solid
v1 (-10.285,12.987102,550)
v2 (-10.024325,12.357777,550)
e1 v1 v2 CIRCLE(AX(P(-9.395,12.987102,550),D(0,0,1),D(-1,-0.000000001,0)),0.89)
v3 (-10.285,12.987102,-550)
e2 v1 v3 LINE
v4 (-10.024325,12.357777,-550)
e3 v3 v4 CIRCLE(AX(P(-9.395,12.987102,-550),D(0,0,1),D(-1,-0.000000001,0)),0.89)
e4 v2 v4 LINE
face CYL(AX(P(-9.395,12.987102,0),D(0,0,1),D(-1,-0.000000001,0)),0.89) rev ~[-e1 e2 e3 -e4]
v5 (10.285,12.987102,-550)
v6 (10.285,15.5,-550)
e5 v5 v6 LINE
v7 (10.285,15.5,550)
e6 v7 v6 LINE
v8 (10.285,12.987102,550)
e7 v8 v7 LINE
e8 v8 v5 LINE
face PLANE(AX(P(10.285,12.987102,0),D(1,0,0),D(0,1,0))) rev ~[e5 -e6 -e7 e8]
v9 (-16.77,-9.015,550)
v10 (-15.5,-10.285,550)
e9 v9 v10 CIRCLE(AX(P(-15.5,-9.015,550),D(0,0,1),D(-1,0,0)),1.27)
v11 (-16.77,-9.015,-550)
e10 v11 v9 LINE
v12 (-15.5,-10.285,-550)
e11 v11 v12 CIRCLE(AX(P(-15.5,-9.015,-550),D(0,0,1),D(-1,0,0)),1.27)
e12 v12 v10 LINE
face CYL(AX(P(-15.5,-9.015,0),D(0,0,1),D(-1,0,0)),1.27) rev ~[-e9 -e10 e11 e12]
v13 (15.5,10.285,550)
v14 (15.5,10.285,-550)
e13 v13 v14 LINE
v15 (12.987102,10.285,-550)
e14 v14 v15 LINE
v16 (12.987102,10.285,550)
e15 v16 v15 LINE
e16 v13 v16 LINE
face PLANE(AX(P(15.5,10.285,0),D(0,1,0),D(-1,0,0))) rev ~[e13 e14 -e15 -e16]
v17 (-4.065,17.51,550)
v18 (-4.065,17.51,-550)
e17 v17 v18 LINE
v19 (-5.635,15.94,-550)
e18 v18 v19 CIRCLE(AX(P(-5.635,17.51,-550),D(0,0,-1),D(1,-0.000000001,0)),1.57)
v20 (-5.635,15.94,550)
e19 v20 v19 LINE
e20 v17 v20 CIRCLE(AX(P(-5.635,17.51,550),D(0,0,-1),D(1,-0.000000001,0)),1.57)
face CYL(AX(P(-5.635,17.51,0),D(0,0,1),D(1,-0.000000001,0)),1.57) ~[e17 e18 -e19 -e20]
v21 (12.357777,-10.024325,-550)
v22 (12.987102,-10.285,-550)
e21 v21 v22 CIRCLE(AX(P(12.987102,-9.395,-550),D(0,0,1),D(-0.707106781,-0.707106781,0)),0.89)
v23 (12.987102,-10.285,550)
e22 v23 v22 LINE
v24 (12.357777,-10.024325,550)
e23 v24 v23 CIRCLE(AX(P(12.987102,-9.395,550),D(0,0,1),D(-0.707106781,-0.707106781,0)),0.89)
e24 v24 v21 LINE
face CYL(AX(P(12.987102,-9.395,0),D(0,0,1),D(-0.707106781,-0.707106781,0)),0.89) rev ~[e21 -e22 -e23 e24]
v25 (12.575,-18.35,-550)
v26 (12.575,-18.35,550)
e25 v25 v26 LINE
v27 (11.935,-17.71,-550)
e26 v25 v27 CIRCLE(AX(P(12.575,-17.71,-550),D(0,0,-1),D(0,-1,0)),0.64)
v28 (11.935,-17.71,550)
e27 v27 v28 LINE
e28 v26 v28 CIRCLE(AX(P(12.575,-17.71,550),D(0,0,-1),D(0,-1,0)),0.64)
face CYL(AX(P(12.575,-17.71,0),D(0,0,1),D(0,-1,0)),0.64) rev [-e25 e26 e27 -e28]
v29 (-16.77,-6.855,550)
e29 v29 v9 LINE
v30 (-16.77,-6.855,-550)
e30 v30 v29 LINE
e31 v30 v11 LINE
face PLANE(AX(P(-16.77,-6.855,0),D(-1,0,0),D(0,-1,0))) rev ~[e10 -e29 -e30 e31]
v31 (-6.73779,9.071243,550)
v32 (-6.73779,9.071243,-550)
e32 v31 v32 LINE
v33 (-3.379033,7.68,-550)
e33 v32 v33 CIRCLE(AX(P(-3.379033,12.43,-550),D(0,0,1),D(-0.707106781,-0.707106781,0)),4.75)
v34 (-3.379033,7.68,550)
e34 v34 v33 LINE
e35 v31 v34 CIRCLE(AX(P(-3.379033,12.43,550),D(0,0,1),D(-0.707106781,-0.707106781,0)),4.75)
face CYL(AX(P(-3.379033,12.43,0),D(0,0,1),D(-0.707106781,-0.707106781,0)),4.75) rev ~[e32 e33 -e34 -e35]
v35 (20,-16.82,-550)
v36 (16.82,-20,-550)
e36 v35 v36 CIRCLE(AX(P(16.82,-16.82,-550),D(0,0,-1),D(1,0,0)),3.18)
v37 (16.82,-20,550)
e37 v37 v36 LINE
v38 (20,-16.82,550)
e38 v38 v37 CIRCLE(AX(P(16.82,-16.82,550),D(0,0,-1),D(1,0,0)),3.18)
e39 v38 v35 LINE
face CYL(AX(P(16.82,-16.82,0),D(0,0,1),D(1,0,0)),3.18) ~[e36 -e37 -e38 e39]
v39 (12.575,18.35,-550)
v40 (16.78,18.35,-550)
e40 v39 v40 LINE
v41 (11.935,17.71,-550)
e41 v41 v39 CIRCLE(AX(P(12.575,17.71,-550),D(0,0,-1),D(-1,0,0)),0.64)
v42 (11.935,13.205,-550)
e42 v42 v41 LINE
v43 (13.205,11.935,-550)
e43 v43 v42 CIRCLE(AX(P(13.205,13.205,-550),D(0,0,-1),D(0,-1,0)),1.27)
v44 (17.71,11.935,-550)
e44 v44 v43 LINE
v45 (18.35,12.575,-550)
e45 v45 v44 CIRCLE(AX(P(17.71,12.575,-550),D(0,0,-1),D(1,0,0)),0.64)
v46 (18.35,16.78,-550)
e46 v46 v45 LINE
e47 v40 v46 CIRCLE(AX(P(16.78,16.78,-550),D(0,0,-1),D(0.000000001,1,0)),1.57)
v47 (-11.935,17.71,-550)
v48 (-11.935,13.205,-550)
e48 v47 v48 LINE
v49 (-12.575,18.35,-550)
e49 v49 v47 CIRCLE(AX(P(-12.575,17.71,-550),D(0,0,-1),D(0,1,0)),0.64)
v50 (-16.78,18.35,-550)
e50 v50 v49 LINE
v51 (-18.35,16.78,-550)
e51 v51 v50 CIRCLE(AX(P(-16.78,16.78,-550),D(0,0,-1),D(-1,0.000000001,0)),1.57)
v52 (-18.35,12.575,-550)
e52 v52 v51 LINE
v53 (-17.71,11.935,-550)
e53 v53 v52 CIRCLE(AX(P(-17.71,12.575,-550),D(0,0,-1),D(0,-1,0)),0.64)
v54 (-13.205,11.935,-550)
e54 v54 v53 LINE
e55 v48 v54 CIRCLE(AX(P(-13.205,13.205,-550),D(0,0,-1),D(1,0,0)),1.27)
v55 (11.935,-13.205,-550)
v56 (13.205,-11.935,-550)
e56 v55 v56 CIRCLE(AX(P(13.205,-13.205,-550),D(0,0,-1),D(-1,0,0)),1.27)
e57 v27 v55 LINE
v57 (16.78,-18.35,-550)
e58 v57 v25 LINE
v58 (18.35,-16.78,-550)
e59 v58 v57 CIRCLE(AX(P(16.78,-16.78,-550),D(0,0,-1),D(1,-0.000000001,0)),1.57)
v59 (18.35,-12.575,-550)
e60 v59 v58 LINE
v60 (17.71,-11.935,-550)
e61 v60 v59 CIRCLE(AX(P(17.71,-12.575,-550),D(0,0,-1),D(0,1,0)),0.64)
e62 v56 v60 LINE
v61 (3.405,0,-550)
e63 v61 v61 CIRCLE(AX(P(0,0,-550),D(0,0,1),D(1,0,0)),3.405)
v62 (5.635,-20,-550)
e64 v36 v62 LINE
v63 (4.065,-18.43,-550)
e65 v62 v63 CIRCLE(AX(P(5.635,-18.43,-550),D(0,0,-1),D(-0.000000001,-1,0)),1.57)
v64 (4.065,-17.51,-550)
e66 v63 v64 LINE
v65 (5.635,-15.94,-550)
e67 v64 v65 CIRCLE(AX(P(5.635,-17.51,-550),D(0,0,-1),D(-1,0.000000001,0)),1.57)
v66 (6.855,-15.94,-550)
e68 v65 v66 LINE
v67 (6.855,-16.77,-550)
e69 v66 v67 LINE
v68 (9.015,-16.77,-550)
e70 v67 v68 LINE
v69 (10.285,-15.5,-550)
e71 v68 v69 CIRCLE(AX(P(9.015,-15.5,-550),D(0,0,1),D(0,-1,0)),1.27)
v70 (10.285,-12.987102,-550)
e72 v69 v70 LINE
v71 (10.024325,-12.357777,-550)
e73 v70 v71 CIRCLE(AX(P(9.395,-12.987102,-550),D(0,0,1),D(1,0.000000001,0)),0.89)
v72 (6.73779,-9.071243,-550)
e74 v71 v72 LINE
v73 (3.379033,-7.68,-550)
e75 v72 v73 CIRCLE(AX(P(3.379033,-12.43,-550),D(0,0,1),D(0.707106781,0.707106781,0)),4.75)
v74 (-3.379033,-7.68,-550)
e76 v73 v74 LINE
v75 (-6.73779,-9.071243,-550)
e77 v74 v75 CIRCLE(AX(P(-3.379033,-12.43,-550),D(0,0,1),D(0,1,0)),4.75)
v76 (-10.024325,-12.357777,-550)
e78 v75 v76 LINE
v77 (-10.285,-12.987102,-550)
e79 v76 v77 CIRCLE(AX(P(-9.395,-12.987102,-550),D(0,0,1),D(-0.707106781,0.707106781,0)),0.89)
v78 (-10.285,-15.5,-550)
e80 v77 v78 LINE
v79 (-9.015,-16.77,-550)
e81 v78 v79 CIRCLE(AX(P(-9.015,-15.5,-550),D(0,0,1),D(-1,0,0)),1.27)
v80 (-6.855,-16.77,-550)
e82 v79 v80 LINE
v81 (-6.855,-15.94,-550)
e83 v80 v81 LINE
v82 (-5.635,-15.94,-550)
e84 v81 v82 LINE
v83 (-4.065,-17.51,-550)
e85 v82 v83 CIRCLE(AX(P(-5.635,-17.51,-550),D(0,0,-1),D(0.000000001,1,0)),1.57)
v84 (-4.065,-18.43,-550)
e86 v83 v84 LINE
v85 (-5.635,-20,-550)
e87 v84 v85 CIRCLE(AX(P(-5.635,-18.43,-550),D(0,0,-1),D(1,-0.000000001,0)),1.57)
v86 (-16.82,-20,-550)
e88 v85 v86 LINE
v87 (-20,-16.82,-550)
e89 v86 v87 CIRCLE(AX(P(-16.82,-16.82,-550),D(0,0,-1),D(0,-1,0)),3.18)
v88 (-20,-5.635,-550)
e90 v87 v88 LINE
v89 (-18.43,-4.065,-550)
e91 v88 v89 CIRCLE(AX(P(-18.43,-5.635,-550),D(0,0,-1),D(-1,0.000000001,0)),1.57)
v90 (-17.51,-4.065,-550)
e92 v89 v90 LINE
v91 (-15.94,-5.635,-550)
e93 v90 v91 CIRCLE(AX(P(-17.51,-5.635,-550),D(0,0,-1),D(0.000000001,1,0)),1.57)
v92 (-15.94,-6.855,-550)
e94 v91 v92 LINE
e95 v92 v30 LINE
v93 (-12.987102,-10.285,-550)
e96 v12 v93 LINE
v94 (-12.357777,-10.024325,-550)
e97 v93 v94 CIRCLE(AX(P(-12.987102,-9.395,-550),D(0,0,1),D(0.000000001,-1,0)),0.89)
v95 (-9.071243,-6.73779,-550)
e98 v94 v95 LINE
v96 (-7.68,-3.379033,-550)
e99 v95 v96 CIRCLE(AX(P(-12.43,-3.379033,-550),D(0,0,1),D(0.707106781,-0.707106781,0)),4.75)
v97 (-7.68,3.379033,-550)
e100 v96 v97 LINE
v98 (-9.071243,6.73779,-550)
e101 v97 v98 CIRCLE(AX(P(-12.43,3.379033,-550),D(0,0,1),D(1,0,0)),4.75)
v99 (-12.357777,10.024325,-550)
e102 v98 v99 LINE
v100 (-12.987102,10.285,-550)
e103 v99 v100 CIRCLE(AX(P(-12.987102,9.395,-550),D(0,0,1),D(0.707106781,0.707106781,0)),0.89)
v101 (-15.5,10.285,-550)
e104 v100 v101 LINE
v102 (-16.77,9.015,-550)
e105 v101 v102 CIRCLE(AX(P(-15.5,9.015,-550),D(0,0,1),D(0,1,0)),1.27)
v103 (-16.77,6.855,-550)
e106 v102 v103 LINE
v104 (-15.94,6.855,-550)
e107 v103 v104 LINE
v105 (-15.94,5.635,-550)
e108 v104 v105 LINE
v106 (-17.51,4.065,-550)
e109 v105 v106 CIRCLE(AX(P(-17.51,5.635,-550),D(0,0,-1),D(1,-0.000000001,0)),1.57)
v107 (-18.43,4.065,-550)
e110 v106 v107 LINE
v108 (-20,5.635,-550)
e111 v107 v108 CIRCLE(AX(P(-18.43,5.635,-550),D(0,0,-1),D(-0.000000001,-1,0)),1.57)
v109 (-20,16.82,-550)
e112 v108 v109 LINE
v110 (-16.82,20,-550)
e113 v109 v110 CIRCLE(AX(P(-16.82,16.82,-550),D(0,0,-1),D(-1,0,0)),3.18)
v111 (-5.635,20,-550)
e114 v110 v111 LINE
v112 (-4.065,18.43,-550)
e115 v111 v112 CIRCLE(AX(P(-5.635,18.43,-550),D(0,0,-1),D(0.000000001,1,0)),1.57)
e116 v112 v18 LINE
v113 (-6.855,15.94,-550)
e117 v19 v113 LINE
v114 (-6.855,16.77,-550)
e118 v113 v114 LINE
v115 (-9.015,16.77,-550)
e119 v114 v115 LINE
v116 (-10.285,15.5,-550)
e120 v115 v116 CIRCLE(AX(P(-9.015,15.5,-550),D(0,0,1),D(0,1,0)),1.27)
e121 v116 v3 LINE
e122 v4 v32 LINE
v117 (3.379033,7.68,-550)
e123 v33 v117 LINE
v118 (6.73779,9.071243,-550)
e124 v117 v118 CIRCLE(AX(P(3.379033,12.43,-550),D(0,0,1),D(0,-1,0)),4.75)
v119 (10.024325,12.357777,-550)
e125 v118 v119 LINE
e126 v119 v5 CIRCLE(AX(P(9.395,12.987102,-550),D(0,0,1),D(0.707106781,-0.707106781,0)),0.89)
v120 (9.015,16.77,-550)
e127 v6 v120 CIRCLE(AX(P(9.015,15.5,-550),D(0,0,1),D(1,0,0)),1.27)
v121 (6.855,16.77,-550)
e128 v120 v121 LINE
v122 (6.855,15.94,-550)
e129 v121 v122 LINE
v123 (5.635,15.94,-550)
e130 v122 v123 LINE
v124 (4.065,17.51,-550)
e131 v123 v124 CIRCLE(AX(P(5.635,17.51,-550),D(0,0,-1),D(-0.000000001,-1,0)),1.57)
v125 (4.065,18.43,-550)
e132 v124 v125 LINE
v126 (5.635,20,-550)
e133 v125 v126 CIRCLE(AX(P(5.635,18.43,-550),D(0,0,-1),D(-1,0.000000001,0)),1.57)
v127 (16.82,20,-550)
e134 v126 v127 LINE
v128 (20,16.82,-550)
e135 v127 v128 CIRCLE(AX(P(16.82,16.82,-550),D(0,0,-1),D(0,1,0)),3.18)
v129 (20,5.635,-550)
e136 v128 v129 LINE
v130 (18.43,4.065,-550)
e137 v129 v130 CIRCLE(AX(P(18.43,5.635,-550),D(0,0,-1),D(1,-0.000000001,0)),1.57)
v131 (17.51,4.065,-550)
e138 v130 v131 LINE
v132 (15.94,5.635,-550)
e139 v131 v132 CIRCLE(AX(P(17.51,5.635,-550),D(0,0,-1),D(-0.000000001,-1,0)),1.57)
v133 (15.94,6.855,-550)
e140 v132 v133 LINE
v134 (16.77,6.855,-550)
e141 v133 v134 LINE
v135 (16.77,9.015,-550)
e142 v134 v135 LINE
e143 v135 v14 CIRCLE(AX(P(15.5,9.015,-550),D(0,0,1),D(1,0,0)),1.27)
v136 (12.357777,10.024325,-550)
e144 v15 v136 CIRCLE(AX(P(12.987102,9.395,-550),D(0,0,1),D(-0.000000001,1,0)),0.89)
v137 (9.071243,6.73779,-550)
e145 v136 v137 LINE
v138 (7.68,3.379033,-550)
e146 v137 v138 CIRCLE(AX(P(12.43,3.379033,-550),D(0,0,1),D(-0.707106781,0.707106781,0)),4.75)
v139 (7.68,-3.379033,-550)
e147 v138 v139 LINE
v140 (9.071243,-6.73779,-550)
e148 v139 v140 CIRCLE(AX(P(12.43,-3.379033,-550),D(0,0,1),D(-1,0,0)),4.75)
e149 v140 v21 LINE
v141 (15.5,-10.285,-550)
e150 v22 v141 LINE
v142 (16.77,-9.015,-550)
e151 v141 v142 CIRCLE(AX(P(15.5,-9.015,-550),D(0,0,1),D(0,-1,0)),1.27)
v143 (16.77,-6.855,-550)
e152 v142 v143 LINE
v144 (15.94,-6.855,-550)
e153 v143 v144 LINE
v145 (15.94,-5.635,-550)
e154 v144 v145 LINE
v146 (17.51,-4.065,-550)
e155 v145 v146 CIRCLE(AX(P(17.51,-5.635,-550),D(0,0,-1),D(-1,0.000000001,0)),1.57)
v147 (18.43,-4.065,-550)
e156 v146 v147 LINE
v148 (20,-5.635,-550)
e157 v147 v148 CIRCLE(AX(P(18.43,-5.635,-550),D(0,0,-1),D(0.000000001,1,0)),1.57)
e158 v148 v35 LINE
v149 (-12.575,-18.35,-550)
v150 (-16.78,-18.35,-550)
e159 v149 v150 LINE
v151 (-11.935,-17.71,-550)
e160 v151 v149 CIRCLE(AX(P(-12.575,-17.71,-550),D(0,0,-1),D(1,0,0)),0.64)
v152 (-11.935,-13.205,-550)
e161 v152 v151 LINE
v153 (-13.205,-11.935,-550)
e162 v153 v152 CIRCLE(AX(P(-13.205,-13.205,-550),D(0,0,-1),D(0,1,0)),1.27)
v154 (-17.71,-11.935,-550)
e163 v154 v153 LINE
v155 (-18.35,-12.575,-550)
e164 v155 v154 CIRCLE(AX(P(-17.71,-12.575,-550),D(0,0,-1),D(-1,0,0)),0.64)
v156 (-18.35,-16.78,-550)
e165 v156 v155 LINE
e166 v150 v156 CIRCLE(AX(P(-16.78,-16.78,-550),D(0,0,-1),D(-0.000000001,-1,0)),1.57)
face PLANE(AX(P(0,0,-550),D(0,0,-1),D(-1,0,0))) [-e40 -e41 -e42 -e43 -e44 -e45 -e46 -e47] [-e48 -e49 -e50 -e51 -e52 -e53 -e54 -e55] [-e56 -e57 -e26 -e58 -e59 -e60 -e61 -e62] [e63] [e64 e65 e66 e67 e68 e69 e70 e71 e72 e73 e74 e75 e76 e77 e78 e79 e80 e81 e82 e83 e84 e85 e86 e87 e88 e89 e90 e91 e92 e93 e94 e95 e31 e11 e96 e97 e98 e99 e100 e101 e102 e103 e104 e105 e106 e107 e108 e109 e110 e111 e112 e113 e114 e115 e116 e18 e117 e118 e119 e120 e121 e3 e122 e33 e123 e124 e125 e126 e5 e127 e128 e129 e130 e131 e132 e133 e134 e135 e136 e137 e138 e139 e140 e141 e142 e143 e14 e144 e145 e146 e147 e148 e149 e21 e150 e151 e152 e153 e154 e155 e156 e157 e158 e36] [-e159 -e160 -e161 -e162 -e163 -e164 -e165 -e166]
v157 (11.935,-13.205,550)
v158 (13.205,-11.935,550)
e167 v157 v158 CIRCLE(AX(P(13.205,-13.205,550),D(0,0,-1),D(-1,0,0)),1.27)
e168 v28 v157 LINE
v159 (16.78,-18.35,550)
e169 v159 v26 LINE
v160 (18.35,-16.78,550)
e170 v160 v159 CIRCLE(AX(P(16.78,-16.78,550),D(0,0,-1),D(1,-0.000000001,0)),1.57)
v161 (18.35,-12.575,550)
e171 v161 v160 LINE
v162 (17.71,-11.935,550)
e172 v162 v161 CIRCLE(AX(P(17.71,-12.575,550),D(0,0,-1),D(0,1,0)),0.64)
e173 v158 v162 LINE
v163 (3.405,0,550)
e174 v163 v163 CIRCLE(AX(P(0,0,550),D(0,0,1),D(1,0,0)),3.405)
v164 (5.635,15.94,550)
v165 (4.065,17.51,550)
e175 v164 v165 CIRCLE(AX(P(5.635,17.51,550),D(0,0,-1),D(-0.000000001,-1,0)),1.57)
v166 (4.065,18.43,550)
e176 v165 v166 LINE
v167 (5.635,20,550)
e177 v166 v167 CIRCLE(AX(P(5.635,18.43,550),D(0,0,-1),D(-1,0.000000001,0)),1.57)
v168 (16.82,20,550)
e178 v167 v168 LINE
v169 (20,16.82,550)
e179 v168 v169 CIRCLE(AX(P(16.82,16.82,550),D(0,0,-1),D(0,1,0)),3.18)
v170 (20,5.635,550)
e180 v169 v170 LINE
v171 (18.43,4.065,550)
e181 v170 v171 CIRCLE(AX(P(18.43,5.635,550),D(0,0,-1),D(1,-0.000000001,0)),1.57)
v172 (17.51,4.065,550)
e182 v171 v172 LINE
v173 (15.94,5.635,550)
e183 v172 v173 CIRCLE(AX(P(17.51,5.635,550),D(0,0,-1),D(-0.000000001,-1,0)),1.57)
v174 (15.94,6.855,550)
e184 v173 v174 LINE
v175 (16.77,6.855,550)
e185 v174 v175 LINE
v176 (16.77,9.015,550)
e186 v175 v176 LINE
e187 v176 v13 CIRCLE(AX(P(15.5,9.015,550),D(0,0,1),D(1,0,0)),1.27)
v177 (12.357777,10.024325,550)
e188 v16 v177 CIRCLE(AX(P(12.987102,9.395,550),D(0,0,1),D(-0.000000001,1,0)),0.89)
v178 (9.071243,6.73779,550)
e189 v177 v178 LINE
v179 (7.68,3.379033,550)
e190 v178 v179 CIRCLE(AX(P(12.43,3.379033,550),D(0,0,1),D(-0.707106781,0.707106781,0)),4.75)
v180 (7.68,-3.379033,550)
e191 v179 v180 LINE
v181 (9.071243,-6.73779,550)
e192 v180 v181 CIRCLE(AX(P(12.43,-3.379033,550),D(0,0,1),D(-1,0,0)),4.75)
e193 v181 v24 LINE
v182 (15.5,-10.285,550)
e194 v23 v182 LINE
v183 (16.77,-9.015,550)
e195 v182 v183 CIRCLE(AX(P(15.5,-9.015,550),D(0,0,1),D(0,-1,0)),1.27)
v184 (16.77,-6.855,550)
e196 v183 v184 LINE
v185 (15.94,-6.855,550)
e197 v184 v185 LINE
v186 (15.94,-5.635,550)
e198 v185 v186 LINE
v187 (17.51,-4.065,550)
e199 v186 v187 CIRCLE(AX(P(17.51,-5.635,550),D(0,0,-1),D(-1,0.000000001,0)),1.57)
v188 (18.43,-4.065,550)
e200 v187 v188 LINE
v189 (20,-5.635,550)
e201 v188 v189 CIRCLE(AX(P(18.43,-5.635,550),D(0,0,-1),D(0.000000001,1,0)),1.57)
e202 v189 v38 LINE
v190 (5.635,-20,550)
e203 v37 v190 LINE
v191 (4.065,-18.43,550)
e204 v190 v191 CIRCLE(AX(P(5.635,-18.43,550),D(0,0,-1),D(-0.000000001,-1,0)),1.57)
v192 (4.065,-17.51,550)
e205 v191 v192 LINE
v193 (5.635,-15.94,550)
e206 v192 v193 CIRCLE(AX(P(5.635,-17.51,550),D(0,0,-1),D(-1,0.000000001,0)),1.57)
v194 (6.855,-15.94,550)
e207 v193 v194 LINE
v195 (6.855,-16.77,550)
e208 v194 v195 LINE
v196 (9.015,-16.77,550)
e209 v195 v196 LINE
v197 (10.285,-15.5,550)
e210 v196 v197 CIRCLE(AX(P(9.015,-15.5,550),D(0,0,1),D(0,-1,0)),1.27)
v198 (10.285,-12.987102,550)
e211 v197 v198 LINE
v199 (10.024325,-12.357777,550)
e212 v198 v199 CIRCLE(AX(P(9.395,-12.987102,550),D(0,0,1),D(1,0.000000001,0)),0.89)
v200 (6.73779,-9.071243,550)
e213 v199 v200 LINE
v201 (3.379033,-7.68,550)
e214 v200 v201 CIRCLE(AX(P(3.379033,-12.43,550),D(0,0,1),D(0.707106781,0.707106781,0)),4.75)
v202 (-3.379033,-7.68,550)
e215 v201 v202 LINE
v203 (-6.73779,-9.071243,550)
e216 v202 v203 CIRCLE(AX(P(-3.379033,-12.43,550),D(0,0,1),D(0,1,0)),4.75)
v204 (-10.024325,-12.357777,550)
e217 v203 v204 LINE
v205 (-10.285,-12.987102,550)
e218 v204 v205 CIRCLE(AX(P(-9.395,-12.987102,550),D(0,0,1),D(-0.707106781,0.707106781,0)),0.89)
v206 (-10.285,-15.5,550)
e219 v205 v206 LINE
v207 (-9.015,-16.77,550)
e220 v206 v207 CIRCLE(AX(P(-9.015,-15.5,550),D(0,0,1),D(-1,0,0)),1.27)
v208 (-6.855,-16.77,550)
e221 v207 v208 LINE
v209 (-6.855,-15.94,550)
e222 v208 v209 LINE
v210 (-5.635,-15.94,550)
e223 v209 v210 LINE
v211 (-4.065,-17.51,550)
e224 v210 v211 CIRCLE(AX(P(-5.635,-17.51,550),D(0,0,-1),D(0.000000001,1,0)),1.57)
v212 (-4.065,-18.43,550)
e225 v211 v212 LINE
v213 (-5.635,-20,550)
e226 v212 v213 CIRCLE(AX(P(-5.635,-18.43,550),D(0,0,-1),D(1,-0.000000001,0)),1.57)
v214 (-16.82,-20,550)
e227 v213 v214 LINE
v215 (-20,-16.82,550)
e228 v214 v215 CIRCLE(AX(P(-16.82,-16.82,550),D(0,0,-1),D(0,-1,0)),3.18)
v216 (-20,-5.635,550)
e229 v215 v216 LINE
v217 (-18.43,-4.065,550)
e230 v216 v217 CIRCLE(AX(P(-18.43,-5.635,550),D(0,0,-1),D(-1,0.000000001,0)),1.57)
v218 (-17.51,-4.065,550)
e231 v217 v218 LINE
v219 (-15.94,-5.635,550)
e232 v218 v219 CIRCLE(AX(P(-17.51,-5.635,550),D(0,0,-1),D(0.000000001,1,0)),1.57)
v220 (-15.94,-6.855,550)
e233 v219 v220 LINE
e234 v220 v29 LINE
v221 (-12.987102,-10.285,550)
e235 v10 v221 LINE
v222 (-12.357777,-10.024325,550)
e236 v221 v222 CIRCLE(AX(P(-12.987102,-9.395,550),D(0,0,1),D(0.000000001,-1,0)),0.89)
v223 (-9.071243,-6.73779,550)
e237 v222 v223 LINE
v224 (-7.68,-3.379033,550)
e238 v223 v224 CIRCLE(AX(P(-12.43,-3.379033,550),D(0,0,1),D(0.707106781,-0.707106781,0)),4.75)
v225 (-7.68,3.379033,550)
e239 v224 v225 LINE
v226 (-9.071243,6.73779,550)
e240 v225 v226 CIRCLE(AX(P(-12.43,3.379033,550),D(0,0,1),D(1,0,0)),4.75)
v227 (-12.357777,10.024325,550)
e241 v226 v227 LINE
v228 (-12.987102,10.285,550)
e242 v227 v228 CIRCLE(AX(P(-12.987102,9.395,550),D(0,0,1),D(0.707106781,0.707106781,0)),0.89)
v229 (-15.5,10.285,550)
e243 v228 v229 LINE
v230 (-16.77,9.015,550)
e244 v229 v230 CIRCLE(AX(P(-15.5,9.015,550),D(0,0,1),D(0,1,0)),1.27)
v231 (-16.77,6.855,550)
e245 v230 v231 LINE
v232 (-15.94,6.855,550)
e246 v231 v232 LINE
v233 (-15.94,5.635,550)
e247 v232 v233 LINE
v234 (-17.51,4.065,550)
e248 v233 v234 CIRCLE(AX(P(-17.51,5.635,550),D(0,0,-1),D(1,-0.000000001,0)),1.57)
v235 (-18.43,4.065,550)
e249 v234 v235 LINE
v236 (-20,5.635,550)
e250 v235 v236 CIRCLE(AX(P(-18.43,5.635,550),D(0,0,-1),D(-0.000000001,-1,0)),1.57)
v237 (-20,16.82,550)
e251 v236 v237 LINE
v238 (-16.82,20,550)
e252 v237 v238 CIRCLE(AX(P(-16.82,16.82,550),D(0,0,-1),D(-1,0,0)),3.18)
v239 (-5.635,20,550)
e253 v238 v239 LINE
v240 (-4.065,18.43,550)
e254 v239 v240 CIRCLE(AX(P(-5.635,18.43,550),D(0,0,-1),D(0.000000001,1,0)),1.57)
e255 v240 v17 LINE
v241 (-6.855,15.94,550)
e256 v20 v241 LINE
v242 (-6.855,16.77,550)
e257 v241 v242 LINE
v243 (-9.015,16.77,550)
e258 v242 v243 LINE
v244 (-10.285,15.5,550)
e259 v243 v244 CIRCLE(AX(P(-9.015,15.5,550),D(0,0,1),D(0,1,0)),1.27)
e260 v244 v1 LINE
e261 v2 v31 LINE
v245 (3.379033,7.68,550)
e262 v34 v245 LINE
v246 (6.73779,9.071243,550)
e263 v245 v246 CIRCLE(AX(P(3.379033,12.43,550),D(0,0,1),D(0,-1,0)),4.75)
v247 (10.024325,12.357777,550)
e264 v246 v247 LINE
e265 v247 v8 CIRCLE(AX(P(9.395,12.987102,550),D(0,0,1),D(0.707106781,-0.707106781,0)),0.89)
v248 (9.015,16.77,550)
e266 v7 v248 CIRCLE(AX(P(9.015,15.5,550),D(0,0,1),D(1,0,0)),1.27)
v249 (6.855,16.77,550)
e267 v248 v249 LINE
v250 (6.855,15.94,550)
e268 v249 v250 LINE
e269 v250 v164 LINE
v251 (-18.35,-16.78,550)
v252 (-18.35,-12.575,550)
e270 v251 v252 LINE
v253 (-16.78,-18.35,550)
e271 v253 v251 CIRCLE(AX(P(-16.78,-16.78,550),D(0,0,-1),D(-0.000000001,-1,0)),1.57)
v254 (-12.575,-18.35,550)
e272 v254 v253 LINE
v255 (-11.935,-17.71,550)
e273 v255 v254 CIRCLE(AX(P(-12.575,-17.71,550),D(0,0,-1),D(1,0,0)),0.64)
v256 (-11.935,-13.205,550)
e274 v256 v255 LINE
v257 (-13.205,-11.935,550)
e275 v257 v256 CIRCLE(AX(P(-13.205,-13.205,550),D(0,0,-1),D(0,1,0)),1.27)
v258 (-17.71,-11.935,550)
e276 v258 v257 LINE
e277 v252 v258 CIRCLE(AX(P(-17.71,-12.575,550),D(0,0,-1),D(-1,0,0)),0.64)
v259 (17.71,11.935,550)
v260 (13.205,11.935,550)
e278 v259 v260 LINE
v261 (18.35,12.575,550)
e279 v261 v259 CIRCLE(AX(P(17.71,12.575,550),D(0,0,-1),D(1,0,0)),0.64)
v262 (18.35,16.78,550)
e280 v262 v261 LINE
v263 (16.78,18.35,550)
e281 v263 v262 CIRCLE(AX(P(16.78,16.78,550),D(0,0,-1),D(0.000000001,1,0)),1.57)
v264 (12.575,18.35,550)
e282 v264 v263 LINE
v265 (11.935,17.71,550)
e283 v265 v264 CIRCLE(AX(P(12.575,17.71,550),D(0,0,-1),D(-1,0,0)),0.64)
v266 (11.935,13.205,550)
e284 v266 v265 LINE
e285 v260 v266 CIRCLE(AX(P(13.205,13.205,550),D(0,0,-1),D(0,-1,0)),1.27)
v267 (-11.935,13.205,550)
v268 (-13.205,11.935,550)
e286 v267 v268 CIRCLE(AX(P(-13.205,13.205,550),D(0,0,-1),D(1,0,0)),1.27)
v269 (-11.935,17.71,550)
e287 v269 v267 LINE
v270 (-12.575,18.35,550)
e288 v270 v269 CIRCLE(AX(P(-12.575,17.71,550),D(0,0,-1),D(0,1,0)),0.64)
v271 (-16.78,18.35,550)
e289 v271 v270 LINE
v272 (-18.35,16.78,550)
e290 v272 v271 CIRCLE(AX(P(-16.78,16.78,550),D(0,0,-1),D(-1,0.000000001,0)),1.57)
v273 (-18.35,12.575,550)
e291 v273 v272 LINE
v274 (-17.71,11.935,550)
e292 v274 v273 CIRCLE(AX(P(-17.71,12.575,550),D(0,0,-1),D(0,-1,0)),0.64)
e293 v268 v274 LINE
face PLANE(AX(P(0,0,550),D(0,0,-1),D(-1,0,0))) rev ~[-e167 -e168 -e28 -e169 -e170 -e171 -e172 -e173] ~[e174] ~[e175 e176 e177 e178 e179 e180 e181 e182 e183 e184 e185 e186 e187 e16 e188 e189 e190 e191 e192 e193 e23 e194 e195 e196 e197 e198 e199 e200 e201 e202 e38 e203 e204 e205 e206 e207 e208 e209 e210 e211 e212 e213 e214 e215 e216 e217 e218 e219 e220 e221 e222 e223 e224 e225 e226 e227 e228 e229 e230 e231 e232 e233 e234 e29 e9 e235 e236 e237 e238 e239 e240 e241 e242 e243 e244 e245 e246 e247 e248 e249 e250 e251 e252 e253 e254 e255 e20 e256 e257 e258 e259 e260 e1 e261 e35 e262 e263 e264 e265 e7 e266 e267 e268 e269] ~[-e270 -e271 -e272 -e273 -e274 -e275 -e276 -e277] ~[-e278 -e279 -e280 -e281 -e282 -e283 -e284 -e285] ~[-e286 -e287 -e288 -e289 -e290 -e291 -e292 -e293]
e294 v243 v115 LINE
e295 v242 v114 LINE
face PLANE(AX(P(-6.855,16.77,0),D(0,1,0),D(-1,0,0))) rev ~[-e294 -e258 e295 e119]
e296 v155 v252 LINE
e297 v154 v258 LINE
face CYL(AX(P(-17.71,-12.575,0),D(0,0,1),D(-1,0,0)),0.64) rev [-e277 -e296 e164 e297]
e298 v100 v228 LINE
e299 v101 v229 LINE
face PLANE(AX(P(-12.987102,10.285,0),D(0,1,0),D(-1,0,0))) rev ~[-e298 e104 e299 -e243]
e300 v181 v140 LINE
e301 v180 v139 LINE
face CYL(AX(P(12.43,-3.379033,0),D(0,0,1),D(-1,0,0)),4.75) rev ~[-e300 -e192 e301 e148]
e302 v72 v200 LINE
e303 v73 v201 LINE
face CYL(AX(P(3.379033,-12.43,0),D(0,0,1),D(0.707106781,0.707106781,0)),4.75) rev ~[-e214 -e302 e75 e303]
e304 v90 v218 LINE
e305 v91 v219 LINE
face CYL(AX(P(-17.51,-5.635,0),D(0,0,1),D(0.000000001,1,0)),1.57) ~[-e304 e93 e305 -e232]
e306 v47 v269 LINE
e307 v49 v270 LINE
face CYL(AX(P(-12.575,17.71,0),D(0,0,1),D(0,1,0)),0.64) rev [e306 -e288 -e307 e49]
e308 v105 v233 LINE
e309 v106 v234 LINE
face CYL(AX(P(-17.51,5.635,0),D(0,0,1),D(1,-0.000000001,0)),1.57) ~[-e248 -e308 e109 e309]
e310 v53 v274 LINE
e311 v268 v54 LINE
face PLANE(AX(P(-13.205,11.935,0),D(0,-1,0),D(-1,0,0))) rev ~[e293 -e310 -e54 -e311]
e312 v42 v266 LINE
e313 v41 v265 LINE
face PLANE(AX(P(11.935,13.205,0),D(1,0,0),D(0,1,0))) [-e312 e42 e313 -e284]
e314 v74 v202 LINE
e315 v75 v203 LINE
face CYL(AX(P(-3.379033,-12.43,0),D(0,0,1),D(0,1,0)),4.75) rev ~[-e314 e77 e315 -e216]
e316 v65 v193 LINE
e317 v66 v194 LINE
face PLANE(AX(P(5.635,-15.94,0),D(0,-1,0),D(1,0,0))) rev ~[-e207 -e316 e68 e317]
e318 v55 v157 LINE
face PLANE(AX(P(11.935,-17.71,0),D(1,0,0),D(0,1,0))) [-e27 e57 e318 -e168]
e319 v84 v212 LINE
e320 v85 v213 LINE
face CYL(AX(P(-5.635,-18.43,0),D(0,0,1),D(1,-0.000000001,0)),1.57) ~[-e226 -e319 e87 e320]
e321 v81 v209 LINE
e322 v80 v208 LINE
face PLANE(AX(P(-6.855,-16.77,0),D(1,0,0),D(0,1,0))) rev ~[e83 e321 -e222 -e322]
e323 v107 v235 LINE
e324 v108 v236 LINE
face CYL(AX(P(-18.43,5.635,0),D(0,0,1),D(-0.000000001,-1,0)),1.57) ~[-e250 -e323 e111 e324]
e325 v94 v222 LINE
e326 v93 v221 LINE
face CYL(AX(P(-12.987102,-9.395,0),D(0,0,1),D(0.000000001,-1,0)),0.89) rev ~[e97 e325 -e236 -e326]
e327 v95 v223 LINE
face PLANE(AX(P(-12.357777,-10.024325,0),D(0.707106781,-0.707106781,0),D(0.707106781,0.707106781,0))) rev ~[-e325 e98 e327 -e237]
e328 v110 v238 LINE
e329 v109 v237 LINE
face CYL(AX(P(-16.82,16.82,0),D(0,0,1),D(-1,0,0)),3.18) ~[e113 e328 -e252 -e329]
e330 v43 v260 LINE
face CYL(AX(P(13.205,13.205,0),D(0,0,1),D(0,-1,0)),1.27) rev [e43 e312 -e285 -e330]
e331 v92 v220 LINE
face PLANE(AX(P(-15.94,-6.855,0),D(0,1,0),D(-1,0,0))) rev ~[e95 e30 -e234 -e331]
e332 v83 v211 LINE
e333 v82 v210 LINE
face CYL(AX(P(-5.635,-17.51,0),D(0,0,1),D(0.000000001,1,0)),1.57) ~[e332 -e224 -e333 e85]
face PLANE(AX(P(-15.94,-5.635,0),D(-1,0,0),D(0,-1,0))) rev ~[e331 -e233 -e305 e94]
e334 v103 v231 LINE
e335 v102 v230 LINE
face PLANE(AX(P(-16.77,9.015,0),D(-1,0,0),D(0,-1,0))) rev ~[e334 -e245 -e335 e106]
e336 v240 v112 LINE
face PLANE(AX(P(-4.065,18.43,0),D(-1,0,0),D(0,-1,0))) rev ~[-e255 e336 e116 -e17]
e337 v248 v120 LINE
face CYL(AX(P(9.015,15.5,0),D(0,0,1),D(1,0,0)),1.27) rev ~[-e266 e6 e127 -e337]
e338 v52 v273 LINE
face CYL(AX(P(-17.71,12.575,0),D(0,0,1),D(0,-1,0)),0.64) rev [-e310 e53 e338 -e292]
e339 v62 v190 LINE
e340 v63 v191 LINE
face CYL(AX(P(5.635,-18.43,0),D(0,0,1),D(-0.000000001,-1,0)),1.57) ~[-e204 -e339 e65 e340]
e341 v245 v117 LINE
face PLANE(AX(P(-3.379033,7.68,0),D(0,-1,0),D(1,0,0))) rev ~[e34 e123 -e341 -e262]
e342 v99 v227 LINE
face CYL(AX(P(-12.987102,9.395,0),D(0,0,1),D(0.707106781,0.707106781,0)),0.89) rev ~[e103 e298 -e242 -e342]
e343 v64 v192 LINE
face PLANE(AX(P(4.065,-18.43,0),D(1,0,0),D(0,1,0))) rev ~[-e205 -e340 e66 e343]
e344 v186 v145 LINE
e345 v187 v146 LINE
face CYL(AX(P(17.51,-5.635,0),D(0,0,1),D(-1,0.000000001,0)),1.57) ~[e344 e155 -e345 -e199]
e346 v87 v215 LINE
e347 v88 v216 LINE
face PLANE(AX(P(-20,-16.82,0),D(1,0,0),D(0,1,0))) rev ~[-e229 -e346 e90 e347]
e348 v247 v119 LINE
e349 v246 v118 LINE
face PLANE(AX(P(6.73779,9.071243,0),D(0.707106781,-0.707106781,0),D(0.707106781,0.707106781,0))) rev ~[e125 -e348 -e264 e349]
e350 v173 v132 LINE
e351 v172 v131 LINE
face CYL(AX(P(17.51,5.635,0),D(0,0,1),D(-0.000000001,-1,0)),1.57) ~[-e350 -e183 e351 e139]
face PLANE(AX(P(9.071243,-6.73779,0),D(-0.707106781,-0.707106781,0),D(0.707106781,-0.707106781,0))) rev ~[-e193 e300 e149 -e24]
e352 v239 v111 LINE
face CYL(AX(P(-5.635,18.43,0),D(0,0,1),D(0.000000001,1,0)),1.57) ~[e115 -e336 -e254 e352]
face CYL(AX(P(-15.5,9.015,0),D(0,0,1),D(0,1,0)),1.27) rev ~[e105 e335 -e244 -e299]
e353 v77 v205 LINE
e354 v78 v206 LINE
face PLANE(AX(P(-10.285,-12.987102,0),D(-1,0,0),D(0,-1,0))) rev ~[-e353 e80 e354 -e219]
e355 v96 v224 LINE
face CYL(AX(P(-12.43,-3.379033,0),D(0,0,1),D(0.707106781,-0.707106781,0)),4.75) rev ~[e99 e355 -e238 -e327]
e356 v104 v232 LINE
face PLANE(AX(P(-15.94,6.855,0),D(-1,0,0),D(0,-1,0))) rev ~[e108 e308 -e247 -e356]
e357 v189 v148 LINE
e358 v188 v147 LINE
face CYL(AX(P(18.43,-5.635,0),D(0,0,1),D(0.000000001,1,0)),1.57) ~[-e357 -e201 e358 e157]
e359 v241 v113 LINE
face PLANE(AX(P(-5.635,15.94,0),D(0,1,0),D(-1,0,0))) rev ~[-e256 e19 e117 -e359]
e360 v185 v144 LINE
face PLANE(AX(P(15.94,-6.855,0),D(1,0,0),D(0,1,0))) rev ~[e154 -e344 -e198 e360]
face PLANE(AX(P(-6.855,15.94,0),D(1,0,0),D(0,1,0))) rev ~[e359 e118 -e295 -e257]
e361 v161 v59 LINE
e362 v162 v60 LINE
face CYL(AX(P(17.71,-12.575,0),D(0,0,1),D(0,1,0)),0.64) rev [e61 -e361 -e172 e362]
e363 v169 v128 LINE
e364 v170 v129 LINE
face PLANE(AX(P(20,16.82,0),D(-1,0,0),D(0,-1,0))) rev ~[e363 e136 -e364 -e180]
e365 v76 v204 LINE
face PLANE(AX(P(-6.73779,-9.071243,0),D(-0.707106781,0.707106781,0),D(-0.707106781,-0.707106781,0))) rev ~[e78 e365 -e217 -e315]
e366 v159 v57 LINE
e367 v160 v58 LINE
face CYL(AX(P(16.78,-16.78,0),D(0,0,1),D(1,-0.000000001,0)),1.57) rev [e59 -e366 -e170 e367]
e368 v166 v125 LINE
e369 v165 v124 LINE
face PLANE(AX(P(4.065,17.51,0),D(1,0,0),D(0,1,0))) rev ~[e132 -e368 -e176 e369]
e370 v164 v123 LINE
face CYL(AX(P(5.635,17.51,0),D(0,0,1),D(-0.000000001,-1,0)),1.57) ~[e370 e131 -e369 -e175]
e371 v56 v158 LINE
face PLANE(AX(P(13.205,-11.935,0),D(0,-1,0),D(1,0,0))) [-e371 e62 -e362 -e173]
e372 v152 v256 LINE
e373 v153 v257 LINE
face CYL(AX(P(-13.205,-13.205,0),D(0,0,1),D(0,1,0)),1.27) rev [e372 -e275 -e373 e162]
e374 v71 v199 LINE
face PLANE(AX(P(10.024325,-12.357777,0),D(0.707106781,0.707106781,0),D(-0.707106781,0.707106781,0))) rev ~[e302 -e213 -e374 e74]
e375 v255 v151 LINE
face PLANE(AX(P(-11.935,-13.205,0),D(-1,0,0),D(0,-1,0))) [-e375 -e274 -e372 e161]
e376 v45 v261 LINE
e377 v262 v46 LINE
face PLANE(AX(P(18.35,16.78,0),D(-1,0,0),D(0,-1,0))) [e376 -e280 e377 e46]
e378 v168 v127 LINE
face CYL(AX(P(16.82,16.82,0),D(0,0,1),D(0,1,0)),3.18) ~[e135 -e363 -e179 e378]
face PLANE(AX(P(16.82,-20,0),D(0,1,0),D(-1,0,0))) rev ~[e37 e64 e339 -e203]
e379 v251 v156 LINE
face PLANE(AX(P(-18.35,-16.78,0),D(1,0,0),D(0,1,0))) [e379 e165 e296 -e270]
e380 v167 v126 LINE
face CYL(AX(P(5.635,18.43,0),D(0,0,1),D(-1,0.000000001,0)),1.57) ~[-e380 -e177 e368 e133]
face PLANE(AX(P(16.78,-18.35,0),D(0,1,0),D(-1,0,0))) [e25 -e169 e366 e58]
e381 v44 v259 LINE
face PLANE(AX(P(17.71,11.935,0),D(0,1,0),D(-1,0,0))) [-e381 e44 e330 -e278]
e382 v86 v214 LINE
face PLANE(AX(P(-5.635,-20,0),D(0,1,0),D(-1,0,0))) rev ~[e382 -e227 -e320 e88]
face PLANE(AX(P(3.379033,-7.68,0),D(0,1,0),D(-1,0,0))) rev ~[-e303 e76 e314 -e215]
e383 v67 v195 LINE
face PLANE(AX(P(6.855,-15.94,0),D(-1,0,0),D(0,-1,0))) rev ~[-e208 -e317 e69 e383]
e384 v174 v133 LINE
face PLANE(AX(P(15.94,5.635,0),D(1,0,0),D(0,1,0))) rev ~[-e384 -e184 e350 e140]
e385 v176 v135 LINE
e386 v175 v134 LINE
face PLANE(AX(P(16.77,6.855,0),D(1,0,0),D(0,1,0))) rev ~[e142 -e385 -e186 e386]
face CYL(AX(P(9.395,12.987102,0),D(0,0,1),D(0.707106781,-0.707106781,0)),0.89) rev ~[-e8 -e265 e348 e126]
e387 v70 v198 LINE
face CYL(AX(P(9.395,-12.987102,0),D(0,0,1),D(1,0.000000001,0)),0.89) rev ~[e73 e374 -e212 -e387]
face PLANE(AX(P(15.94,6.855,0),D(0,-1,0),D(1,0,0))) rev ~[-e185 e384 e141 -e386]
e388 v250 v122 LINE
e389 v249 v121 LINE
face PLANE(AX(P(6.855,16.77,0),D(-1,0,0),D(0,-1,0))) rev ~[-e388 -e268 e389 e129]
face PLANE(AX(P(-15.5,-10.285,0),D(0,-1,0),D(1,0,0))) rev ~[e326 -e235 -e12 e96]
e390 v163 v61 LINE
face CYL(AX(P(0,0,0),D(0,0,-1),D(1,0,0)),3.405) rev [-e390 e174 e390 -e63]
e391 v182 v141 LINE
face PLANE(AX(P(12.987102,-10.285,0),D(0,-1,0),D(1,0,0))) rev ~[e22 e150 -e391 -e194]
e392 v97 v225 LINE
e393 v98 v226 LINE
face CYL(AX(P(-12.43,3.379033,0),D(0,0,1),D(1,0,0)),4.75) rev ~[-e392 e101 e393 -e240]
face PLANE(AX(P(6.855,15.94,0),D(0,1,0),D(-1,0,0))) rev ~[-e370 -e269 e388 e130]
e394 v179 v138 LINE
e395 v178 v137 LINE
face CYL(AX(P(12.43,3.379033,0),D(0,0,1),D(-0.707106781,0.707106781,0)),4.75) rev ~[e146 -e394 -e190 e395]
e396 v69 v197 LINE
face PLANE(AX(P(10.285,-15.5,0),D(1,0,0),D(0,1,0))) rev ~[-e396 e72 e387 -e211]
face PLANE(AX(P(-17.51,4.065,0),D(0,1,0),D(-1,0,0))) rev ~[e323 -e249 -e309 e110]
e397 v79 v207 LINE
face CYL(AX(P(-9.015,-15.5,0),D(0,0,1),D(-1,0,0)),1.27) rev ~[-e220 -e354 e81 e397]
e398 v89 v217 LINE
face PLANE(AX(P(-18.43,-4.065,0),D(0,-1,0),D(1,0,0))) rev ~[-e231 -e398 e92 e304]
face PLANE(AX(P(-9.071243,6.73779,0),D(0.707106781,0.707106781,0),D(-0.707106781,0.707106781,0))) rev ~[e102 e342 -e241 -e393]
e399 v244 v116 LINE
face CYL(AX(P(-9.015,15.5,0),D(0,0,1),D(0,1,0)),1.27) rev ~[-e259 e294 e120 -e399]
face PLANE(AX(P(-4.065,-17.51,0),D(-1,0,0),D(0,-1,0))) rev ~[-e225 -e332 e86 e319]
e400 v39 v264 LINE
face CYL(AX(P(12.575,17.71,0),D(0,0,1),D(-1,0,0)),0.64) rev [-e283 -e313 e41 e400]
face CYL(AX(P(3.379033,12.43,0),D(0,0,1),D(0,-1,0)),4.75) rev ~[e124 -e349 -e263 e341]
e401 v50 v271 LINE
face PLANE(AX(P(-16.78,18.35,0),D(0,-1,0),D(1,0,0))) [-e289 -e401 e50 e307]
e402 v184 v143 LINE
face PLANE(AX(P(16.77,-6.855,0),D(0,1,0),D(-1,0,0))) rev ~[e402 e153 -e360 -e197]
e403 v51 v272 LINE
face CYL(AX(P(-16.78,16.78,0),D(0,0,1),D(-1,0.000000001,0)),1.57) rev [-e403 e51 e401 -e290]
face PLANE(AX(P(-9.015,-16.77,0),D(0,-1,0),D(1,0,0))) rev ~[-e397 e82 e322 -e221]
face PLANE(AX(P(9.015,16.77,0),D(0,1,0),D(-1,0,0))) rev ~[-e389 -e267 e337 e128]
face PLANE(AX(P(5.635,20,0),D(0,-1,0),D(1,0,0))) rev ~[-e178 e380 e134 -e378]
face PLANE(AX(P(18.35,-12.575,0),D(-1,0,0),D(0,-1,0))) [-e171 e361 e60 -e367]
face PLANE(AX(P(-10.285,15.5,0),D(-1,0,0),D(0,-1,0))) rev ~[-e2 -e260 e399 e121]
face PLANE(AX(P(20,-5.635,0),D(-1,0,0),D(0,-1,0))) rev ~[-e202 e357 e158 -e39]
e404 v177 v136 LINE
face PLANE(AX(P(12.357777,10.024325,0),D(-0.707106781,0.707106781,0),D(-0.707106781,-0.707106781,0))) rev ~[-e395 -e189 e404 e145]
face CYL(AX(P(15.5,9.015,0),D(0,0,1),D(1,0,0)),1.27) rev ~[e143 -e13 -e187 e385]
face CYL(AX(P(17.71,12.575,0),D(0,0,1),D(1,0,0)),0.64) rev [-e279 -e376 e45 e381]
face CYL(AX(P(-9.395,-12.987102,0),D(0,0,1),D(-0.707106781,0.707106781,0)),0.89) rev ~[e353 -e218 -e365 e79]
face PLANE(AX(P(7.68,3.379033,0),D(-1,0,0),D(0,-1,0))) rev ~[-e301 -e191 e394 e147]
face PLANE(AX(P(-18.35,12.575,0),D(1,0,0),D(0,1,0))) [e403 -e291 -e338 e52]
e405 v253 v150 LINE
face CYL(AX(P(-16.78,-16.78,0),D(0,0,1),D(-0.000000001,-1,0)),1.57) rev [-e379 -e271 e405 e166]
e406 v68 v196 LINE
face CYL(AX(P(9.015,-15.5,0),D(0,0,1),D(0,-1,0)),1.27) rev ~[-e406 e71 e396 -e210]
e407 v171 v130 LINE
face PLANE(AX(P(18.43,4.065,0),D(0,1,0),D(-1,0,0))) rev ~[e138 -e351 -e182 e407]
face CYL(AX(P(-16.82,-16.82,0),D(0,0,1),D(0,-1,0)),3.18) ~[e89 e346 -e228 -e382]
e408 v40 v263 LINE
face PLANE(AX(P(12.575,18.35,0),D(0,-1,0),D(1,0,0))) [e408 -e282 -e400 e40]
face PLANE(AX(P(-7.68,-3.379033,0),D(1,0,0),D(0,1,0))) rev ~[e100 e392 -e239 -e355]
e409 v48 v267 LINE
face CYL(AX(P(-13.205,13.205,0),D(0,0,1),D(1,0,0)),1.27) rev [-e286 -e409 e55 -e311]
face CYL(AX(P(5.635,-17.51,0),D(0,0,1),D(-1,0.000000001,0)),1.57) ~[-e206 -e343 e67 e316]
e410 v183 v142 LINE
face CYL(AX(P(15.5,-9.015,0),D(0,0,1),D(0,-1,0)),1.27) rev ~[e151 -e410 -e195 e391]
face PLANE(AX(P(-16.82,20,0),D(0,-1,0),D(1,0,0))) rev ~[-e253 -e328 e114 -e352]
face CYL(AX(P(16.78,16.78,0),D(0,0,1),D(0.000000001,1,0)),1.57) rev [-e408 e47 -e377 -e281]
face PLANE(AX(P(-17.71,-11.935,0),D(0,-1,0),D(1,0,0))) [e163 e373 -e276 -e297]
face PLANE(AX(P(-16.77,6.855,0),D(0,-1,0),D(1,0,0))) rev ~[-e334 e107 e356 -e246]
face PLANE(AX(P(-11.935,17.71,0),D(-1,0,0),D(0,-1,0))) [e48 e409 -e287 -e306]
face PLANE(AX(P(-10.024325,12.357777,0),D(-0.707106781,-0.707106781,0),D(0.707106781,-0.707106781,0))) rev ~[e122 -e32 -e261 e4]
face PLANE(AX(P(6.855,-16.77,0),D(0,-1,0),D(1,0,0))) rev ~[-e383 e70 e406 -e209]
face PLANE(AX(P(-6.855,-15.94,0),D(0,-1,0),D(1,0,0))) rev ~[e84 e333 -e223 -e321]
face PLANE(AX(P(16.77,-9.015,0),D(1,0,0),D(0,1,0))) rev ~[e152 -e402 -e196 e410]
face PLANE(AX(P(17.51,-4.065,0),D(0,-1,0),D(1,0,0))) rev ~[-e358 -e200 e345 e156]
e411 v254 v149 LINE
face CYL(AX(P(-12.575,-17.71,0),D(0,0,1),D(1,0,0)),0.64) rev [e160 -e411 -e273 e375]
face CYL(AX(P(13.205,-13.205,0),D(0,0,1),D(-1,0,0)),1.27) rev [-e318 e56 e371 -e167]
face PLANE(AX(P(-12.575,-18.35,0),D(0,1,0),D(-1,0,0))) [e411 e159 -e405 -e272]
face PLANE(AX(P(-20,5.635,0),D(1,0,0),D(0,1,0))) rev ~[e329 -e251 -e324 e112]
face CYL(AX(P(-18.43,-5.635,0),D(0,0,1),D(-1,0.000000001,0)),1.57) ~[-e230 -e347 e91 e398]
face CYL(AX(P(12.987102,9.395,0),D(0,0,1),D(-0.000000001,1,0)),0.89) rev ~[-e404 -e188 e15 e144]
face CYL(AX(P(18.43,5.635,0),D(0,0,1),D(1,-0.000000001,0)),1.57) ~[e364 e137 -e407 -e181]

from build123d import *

# Parameters (mm, degrees)
SKETCH2_R      = 3.405
EXTRUDE1_DEPTH = 550


with BuildPart() as part:
    # Sketch2 → Extrude1 (new, symmetric)
    with BuildSketch(Plane.XY):
        with BuildLine():
            Line((-16.82, 20), (-5.635, 20))
            ThreePointArc((-5.635, 20), (-4.524842354, 19.540157646), (-4.065, 18.43))
            Line((-4.065, 18.43), (-4.065, 17.51))
            ThreePointArc((-4.065, 17.51), (-4.524842354, 16.399842354), (-5.635, 15.94))
            Line((-5.635, 15.94), (-6.855, 15.94))
            Line((-6.855, 15.94), (-6.855, 16.77))
            Line((-6.855, 16.77), (-9.015, 16.77))
            ThreePointArc((-9.015, 16.77), (-9.913025612, 16.398025612), (-10.285, 15.5))
            Line((-10.285, 15.5), (-10.285, 12.987102448))
            ThreePointArc((-10.285, 12.987102448), (-10.217252784, 12.646514194), (-10.024325035, 12.357777413))
            Line((-10.024325035, 12.357777413), (-6.737790411, 9.071242789))
            ThreePointArc((-6.737790411, 9.071242789), (-5.196779505, 8.041572221), (-3.379033201, 7.68))
            Line((-3.379033201, 7.68), (3.379033201, 7.68))
            ThreePointArc((3.379033201, 7.68), (5.196779505, 8.041572221), (6.737790411, 9.071242789))
            Line((6.737790411, 9.071242789), (10.024325035, 12.357777413))
            ThreePointArc((10.024325035, 12.357777413), (10.217252784, 12.646514194), (10.285, 12.987102448))
            Line((10.285, 12.987102448), (10.285, 15.5))
            ThreePointArc((10.285, 15.5), (9.913025612, 16.398025612), (9.015, 16.77))
            Line((9.015, 16.77), (6.855, 16.77))
            Line((6.855, 16.77), (6.855, 15.94))
            Line((6.855, 15.94), (5.635, 15.94))
            ThreePointArc((5.635, 15.94), (4.524842354, 16.399842354), (4.065, 17.51))
            Line((4.065, 17.51), (4.065, 18.43))
            ThreePointArc((4.065, 18.43), (4.524842354, 19.540157646), (5.635, 20))
            Line((5.635, 20), (16.82, 20))
            ThreePointArc((16.82, 20), (19.068599564, 19.068599564), (20, 16.82))
            Line((20, 16.82), (20, 5.635))
            ThreePointArc((20, 5.635), (19.540157646, 4.524842354), (18.43, 4.065))
            Line((18.43, 4.065), (17.51, 4.065))
            ThreePointArc((17.51, 4.065), (16.399842354, 4.524842354), (15.94, 5.635))
            Line((15.94, 5.635), (15.94, 6.855))
            Line((15.94, 6.855), (16.77, 6.855))
            Line((16.77, 6.855), (16.77, 9.015))
            ThreePointArc((16.77, 9.015), (16.398025612, 9.913025612), (15.5, 10.285))
            Line((15.5, 10.285), (12.987102448, 10.285))
            ThreePointArc((12.987102448, 10.285), (12.646514194, 10.217252784), (12.357777413, 10.024325035))
            Line((12.357777413, 10.024325035), (9.071242789, 6.737790411))
            ThreePointArc((9.071242789, 6.737790411), (8.041572221, 5.196779505), (7.68, 3.379033201))
            Line((7.68, 3.379033201), (7.68, -3.379033201))
            ThreePointArc((7.68, -3.379033201), (8.041572221, -5.196779505), (9.071242789, -6.737790411))
            Line((9.071242789, -6.737790411), (12.357777413, -10.024325035))
            ThreePointArc((12.357777413, -10.024325035), (12.646514194, -10.217252784), (12.987102448, -10.285))
            Line((12.987102448, -10.285), (15.5, -10.285))
            ThreePointArc((15.5, -10.285), (16.398025612, -9.913025612), (16.77, -9.015))
            Line((16.77, -9.015), (16.77, -6.855))
            Line((16.77, -6.855), (15.94, -6.855))
            Line((15.94, -6.855), (15.94, -5.635))
            ThreePointArc((15.94, -5.635), (16.399842354, -4.524842354), (17.51, -4.065))
            Line((17.51, -4.065), (18.43, -4.065))
            ThreePointArc((18.43, -4.065), (19.540157646, -4.524842354), (20, -5.635))
            Line((20, -5.635), (20, -16.82))
            ThreePointArc((20, -16.82), (19.068599564, -19.068599564), (16.82, -20))
            Line((16.82, -20), (5.635, -20))
            ThreePointArc((5.635, -20), (4.524842354, -19.540157646), (4.065, -18.43))
            Line((4.065, -18.43), (4.065, -17.51))
            ThreePointArc((4.065, -17.51), (4.524842354, -16.399842354), (5.635, -15.94))
            Line((5.635, -15.94), (6.855, -15.94))
            Line((6.855, -15.94), (6.855, -16.77))
            Line((6.855, -16.77), (9.015, -16.77))
            ThreePointArc((9.015, -16.77), (9.913025612, -16.398025612), (10.285, -15.5))
            Line((10.285, -15.5), (10.285, -12.987102448))
            ThreePointArc((10.285, -12.987102448), (10.217252784, -12.646514194), (10.024325035, -12.357777413))
            Line((10.024325035, -12.357777413), (6.737790411, -9.071242789))
            ThreePointArc((6.737790411, -9.071242789), (5.196779505, -8.041572221), (3.379033201, -7.68))
            Line((3.379033201, -7.68), (-3.379033201, -7.68))
            ThreePointArc((-3.379033201, -7.68), (-5.196779505, -8.041572221), (-6.737790411, -9.071242789))
            Line((-6.737790411, -9.071242789), (-10.024325035, -12.357777413))
            ThreePointArc((-10.024325035, -12.357777413), (-10.217252784, -12.646514194), (-10.285, -12.987102448))
            Line((-10.285, -12.987102448), (-10.285, -15.5))
            ThreePointArc((-10.285, -15.5), (-9.913025612, -16.398025612), (-9.015, -16.77))
            Line((-9.015, -16.77), (-6.855, -16.77))
            Line((-6.855, -16.77), (-6.855, -15.94))
            Line((-6.855, -15.94), (-5.635, -15.94))
            ThreePointArc((-5.635, -15.94), (-4.524842354, -16.399842354), (-4.065, -17.51))
            Line((-4.065, -17.51), (-4.065, -18.43))
            ThreePointArc((-4.065, -18.43), (-4.524842354, -19.540157646), (-5.635, -20))
            Line((-5.635, -20), (-16.82, -20))
            ThreePointArc((-16.82, -20), (-19.068599564, -19.068599564), (-20, -16.82))
            Line((-20, -16.82), (-20, -5.635))
            ThreePointArc((-20, -5.635), (-19.540157646, -4.524842354), (-18.43, -4.065))
            Line((-18.43, -4.065), (-17.51, -4.065))
            ThreePointArc((-17.51, -4.065), (-16.399842354, -4.524842354), (-15.94, -5.635))
            Line((-15.94, -5.635), (-15.94, -6.855))
            Line((-15.94, -6.855), (-16.77, -6.855))
            Line((-16.77, -6.855), (-16.77, -9.015))
            ThreePointArc((-16.77, -9.015), (-16.398025612, -9.913025612), (-15.5, -10.285))
            Line((-15.5, -10.285), (-12.987102448, -10.285))
            ThreePointArc((-12.987102448, -10.285), (-12.646514194, -10.217252784), (-12.357777413, -10.024325035))
            Line((-12.357777413, -10.024325035), (-9.071242789, -6.737790411))
            ThreePointArc((-9.071242789, -6.737790411), (-8.041572221, -5.196779505), (-7.68, -3.379033201))
            Line((-7.68, -3.379033201), (-7.68, 3.379033201))
            ThreePointArc((-7.68, 3.379033201), (-8.041572221, 5.196779505), (-9.071242789, 6.737790411))
            Line((-9.071242789, 6.737790411), (-12.357777413, 10.024325035))
            ThreePointArc((-12.357777413, 10.024325035), (-12.646514194, 10.217252784), (-12.987102448, 10.285))
            Line((-12.987102448, 10.285), (-15.5, 10.285))
            ThreePointArc((-15.5, 10.285), (-16.398025612, 9.913025612), (-16.77, 9.015))
            Line((-16.77, 9.015), (-16.77, 6.855))
            Line((-16.77, 6.855), (-15.94, 6.855))
            Line((-15.94, 6.855), (-15.94, 5.635))
            ThreePointArc((-15.94, 5.635), (-16.399842354, 4.524842354), (-17.51, 4.065))
            Line((-17.51, 4.065), (-18.43, 4.065))
            ThreePointArc((-18.43, 4.065), (-19.540157646, 4.524842354), (-20, 5.635))
            Line((-20, 5.635), (-20, 16.82))
            ThreePointArc((-20, 16.82), (-19.068599564, 19.068599564), (-16.82, 20))
        make_face()
        Circle(SKETCH2_R, mode=Mode.SUBTRACT)
        with BuildLine():
            Line((-16.78, 18.35), (-12.575, 18.35))
            ThreePointArc((-12.575, 18.35), (-12.12245166, 18.16254834), (-11.935, 17.71))
            Line((-11.935, 17.71), (-11.935, 13.205))
            ThreePointArc((-11.935, 13.205), (-12.306974388, 12.306974388), (-13.205, 11.935))
            Line((-13.205, 11.935), (-17.71, 11.935))
            ThreePointArc((-17.71, 11.935), (-18.16254834, 12.12245166), (-18.35, 12.575))
            Line((-18.35, 12.575), (-18.35, 16.78))
            ThreePointArc((-18.35, 16.78), (-17.890157646, 17.890157646), (-16.78, 18.35))
        make_face(mode=Mode.SUBTRACT)
        with BuildLine():
            Line((-18.35, -16.78), (-18.35, -12.575))
            ThreePointArc((-18.35, -12.575), (-18.16254834, -12.12245166), (-17.71, -11.935))
            Line((-17.71, -11.935), (-13.205, -11.935))
            ThreePointArc((-13.205, -11.935), (-12.306974388, -12.306974388), (-11.935, -13.205))
            Line((-11.935, -13.205), (-11.935, -17.71))
            ThreePointArc((-11.935, -17.71), (-12.12245166, -18.16254834), (-12.575, -18.35))
            Line((-12.575, -18.35), (-16.78, -18.35))
            ThreePointArc((-16.78, -18.35), (-17.890157646, -17.890157646), (-18.35, -16.78))
        make_face(mode=Mode.SUBTRACT)
        with BuildLine():
            Line((16.78, -18.35), (12.575, -18.35))
            ThreePointArc((12.575, -18.35), (12.12245166, -18.16254834), (11.935, -17.71))
            Line((11.935, -17.71), (11.935, -13.205))
            ThreePointArc((11.935, -13.205), (12.306974388, -12.306974388), (13.205, -11.935))
            Line((13.205, -11.935), (17.71, -11.935))
            ThreePointArc((17.71, -11.935), (18.16254834, -12.12245166), (18.35, -12.575))
            Line((18.35, -12.575), (18.35, -16.78))
            ThreePointArc((18.35, -16.78), (17.890157646, -17.890157646), (16.78, -18.35))
        make_face(mode=Mode.SUBTRACT)
        with BuildLine():
            Line((18.35, 16.78), (18.35, 12.575))
            ThreePointArc((18.35, 12.575), (18.16254834, 12.12245166), (17.71, 11.935))
            Line((17.71, 11.935), (13.205, 11.935))
            ThreePointArc((13.205, 11.935), (12.306974388, 12.306974388), (11.935, 13.205))
            Line((11.935, 13.205), (11.935, 17.71))
            ThreePointArc((11.935, 17.71), (12.12245166, 18.16254834), (12.575, 18.35))
            Line((12.575, 18.35), (16.78, 18.35))
            ThreePointArc((16.78, 18.35), (17.890157646, 17.890157646), (18.35, 16.78))
        make_face(mode=Mode.SUBTRACT)
    extrude(amount=EXTRUDE1_DEPTH, both=True)


solid = part.part
